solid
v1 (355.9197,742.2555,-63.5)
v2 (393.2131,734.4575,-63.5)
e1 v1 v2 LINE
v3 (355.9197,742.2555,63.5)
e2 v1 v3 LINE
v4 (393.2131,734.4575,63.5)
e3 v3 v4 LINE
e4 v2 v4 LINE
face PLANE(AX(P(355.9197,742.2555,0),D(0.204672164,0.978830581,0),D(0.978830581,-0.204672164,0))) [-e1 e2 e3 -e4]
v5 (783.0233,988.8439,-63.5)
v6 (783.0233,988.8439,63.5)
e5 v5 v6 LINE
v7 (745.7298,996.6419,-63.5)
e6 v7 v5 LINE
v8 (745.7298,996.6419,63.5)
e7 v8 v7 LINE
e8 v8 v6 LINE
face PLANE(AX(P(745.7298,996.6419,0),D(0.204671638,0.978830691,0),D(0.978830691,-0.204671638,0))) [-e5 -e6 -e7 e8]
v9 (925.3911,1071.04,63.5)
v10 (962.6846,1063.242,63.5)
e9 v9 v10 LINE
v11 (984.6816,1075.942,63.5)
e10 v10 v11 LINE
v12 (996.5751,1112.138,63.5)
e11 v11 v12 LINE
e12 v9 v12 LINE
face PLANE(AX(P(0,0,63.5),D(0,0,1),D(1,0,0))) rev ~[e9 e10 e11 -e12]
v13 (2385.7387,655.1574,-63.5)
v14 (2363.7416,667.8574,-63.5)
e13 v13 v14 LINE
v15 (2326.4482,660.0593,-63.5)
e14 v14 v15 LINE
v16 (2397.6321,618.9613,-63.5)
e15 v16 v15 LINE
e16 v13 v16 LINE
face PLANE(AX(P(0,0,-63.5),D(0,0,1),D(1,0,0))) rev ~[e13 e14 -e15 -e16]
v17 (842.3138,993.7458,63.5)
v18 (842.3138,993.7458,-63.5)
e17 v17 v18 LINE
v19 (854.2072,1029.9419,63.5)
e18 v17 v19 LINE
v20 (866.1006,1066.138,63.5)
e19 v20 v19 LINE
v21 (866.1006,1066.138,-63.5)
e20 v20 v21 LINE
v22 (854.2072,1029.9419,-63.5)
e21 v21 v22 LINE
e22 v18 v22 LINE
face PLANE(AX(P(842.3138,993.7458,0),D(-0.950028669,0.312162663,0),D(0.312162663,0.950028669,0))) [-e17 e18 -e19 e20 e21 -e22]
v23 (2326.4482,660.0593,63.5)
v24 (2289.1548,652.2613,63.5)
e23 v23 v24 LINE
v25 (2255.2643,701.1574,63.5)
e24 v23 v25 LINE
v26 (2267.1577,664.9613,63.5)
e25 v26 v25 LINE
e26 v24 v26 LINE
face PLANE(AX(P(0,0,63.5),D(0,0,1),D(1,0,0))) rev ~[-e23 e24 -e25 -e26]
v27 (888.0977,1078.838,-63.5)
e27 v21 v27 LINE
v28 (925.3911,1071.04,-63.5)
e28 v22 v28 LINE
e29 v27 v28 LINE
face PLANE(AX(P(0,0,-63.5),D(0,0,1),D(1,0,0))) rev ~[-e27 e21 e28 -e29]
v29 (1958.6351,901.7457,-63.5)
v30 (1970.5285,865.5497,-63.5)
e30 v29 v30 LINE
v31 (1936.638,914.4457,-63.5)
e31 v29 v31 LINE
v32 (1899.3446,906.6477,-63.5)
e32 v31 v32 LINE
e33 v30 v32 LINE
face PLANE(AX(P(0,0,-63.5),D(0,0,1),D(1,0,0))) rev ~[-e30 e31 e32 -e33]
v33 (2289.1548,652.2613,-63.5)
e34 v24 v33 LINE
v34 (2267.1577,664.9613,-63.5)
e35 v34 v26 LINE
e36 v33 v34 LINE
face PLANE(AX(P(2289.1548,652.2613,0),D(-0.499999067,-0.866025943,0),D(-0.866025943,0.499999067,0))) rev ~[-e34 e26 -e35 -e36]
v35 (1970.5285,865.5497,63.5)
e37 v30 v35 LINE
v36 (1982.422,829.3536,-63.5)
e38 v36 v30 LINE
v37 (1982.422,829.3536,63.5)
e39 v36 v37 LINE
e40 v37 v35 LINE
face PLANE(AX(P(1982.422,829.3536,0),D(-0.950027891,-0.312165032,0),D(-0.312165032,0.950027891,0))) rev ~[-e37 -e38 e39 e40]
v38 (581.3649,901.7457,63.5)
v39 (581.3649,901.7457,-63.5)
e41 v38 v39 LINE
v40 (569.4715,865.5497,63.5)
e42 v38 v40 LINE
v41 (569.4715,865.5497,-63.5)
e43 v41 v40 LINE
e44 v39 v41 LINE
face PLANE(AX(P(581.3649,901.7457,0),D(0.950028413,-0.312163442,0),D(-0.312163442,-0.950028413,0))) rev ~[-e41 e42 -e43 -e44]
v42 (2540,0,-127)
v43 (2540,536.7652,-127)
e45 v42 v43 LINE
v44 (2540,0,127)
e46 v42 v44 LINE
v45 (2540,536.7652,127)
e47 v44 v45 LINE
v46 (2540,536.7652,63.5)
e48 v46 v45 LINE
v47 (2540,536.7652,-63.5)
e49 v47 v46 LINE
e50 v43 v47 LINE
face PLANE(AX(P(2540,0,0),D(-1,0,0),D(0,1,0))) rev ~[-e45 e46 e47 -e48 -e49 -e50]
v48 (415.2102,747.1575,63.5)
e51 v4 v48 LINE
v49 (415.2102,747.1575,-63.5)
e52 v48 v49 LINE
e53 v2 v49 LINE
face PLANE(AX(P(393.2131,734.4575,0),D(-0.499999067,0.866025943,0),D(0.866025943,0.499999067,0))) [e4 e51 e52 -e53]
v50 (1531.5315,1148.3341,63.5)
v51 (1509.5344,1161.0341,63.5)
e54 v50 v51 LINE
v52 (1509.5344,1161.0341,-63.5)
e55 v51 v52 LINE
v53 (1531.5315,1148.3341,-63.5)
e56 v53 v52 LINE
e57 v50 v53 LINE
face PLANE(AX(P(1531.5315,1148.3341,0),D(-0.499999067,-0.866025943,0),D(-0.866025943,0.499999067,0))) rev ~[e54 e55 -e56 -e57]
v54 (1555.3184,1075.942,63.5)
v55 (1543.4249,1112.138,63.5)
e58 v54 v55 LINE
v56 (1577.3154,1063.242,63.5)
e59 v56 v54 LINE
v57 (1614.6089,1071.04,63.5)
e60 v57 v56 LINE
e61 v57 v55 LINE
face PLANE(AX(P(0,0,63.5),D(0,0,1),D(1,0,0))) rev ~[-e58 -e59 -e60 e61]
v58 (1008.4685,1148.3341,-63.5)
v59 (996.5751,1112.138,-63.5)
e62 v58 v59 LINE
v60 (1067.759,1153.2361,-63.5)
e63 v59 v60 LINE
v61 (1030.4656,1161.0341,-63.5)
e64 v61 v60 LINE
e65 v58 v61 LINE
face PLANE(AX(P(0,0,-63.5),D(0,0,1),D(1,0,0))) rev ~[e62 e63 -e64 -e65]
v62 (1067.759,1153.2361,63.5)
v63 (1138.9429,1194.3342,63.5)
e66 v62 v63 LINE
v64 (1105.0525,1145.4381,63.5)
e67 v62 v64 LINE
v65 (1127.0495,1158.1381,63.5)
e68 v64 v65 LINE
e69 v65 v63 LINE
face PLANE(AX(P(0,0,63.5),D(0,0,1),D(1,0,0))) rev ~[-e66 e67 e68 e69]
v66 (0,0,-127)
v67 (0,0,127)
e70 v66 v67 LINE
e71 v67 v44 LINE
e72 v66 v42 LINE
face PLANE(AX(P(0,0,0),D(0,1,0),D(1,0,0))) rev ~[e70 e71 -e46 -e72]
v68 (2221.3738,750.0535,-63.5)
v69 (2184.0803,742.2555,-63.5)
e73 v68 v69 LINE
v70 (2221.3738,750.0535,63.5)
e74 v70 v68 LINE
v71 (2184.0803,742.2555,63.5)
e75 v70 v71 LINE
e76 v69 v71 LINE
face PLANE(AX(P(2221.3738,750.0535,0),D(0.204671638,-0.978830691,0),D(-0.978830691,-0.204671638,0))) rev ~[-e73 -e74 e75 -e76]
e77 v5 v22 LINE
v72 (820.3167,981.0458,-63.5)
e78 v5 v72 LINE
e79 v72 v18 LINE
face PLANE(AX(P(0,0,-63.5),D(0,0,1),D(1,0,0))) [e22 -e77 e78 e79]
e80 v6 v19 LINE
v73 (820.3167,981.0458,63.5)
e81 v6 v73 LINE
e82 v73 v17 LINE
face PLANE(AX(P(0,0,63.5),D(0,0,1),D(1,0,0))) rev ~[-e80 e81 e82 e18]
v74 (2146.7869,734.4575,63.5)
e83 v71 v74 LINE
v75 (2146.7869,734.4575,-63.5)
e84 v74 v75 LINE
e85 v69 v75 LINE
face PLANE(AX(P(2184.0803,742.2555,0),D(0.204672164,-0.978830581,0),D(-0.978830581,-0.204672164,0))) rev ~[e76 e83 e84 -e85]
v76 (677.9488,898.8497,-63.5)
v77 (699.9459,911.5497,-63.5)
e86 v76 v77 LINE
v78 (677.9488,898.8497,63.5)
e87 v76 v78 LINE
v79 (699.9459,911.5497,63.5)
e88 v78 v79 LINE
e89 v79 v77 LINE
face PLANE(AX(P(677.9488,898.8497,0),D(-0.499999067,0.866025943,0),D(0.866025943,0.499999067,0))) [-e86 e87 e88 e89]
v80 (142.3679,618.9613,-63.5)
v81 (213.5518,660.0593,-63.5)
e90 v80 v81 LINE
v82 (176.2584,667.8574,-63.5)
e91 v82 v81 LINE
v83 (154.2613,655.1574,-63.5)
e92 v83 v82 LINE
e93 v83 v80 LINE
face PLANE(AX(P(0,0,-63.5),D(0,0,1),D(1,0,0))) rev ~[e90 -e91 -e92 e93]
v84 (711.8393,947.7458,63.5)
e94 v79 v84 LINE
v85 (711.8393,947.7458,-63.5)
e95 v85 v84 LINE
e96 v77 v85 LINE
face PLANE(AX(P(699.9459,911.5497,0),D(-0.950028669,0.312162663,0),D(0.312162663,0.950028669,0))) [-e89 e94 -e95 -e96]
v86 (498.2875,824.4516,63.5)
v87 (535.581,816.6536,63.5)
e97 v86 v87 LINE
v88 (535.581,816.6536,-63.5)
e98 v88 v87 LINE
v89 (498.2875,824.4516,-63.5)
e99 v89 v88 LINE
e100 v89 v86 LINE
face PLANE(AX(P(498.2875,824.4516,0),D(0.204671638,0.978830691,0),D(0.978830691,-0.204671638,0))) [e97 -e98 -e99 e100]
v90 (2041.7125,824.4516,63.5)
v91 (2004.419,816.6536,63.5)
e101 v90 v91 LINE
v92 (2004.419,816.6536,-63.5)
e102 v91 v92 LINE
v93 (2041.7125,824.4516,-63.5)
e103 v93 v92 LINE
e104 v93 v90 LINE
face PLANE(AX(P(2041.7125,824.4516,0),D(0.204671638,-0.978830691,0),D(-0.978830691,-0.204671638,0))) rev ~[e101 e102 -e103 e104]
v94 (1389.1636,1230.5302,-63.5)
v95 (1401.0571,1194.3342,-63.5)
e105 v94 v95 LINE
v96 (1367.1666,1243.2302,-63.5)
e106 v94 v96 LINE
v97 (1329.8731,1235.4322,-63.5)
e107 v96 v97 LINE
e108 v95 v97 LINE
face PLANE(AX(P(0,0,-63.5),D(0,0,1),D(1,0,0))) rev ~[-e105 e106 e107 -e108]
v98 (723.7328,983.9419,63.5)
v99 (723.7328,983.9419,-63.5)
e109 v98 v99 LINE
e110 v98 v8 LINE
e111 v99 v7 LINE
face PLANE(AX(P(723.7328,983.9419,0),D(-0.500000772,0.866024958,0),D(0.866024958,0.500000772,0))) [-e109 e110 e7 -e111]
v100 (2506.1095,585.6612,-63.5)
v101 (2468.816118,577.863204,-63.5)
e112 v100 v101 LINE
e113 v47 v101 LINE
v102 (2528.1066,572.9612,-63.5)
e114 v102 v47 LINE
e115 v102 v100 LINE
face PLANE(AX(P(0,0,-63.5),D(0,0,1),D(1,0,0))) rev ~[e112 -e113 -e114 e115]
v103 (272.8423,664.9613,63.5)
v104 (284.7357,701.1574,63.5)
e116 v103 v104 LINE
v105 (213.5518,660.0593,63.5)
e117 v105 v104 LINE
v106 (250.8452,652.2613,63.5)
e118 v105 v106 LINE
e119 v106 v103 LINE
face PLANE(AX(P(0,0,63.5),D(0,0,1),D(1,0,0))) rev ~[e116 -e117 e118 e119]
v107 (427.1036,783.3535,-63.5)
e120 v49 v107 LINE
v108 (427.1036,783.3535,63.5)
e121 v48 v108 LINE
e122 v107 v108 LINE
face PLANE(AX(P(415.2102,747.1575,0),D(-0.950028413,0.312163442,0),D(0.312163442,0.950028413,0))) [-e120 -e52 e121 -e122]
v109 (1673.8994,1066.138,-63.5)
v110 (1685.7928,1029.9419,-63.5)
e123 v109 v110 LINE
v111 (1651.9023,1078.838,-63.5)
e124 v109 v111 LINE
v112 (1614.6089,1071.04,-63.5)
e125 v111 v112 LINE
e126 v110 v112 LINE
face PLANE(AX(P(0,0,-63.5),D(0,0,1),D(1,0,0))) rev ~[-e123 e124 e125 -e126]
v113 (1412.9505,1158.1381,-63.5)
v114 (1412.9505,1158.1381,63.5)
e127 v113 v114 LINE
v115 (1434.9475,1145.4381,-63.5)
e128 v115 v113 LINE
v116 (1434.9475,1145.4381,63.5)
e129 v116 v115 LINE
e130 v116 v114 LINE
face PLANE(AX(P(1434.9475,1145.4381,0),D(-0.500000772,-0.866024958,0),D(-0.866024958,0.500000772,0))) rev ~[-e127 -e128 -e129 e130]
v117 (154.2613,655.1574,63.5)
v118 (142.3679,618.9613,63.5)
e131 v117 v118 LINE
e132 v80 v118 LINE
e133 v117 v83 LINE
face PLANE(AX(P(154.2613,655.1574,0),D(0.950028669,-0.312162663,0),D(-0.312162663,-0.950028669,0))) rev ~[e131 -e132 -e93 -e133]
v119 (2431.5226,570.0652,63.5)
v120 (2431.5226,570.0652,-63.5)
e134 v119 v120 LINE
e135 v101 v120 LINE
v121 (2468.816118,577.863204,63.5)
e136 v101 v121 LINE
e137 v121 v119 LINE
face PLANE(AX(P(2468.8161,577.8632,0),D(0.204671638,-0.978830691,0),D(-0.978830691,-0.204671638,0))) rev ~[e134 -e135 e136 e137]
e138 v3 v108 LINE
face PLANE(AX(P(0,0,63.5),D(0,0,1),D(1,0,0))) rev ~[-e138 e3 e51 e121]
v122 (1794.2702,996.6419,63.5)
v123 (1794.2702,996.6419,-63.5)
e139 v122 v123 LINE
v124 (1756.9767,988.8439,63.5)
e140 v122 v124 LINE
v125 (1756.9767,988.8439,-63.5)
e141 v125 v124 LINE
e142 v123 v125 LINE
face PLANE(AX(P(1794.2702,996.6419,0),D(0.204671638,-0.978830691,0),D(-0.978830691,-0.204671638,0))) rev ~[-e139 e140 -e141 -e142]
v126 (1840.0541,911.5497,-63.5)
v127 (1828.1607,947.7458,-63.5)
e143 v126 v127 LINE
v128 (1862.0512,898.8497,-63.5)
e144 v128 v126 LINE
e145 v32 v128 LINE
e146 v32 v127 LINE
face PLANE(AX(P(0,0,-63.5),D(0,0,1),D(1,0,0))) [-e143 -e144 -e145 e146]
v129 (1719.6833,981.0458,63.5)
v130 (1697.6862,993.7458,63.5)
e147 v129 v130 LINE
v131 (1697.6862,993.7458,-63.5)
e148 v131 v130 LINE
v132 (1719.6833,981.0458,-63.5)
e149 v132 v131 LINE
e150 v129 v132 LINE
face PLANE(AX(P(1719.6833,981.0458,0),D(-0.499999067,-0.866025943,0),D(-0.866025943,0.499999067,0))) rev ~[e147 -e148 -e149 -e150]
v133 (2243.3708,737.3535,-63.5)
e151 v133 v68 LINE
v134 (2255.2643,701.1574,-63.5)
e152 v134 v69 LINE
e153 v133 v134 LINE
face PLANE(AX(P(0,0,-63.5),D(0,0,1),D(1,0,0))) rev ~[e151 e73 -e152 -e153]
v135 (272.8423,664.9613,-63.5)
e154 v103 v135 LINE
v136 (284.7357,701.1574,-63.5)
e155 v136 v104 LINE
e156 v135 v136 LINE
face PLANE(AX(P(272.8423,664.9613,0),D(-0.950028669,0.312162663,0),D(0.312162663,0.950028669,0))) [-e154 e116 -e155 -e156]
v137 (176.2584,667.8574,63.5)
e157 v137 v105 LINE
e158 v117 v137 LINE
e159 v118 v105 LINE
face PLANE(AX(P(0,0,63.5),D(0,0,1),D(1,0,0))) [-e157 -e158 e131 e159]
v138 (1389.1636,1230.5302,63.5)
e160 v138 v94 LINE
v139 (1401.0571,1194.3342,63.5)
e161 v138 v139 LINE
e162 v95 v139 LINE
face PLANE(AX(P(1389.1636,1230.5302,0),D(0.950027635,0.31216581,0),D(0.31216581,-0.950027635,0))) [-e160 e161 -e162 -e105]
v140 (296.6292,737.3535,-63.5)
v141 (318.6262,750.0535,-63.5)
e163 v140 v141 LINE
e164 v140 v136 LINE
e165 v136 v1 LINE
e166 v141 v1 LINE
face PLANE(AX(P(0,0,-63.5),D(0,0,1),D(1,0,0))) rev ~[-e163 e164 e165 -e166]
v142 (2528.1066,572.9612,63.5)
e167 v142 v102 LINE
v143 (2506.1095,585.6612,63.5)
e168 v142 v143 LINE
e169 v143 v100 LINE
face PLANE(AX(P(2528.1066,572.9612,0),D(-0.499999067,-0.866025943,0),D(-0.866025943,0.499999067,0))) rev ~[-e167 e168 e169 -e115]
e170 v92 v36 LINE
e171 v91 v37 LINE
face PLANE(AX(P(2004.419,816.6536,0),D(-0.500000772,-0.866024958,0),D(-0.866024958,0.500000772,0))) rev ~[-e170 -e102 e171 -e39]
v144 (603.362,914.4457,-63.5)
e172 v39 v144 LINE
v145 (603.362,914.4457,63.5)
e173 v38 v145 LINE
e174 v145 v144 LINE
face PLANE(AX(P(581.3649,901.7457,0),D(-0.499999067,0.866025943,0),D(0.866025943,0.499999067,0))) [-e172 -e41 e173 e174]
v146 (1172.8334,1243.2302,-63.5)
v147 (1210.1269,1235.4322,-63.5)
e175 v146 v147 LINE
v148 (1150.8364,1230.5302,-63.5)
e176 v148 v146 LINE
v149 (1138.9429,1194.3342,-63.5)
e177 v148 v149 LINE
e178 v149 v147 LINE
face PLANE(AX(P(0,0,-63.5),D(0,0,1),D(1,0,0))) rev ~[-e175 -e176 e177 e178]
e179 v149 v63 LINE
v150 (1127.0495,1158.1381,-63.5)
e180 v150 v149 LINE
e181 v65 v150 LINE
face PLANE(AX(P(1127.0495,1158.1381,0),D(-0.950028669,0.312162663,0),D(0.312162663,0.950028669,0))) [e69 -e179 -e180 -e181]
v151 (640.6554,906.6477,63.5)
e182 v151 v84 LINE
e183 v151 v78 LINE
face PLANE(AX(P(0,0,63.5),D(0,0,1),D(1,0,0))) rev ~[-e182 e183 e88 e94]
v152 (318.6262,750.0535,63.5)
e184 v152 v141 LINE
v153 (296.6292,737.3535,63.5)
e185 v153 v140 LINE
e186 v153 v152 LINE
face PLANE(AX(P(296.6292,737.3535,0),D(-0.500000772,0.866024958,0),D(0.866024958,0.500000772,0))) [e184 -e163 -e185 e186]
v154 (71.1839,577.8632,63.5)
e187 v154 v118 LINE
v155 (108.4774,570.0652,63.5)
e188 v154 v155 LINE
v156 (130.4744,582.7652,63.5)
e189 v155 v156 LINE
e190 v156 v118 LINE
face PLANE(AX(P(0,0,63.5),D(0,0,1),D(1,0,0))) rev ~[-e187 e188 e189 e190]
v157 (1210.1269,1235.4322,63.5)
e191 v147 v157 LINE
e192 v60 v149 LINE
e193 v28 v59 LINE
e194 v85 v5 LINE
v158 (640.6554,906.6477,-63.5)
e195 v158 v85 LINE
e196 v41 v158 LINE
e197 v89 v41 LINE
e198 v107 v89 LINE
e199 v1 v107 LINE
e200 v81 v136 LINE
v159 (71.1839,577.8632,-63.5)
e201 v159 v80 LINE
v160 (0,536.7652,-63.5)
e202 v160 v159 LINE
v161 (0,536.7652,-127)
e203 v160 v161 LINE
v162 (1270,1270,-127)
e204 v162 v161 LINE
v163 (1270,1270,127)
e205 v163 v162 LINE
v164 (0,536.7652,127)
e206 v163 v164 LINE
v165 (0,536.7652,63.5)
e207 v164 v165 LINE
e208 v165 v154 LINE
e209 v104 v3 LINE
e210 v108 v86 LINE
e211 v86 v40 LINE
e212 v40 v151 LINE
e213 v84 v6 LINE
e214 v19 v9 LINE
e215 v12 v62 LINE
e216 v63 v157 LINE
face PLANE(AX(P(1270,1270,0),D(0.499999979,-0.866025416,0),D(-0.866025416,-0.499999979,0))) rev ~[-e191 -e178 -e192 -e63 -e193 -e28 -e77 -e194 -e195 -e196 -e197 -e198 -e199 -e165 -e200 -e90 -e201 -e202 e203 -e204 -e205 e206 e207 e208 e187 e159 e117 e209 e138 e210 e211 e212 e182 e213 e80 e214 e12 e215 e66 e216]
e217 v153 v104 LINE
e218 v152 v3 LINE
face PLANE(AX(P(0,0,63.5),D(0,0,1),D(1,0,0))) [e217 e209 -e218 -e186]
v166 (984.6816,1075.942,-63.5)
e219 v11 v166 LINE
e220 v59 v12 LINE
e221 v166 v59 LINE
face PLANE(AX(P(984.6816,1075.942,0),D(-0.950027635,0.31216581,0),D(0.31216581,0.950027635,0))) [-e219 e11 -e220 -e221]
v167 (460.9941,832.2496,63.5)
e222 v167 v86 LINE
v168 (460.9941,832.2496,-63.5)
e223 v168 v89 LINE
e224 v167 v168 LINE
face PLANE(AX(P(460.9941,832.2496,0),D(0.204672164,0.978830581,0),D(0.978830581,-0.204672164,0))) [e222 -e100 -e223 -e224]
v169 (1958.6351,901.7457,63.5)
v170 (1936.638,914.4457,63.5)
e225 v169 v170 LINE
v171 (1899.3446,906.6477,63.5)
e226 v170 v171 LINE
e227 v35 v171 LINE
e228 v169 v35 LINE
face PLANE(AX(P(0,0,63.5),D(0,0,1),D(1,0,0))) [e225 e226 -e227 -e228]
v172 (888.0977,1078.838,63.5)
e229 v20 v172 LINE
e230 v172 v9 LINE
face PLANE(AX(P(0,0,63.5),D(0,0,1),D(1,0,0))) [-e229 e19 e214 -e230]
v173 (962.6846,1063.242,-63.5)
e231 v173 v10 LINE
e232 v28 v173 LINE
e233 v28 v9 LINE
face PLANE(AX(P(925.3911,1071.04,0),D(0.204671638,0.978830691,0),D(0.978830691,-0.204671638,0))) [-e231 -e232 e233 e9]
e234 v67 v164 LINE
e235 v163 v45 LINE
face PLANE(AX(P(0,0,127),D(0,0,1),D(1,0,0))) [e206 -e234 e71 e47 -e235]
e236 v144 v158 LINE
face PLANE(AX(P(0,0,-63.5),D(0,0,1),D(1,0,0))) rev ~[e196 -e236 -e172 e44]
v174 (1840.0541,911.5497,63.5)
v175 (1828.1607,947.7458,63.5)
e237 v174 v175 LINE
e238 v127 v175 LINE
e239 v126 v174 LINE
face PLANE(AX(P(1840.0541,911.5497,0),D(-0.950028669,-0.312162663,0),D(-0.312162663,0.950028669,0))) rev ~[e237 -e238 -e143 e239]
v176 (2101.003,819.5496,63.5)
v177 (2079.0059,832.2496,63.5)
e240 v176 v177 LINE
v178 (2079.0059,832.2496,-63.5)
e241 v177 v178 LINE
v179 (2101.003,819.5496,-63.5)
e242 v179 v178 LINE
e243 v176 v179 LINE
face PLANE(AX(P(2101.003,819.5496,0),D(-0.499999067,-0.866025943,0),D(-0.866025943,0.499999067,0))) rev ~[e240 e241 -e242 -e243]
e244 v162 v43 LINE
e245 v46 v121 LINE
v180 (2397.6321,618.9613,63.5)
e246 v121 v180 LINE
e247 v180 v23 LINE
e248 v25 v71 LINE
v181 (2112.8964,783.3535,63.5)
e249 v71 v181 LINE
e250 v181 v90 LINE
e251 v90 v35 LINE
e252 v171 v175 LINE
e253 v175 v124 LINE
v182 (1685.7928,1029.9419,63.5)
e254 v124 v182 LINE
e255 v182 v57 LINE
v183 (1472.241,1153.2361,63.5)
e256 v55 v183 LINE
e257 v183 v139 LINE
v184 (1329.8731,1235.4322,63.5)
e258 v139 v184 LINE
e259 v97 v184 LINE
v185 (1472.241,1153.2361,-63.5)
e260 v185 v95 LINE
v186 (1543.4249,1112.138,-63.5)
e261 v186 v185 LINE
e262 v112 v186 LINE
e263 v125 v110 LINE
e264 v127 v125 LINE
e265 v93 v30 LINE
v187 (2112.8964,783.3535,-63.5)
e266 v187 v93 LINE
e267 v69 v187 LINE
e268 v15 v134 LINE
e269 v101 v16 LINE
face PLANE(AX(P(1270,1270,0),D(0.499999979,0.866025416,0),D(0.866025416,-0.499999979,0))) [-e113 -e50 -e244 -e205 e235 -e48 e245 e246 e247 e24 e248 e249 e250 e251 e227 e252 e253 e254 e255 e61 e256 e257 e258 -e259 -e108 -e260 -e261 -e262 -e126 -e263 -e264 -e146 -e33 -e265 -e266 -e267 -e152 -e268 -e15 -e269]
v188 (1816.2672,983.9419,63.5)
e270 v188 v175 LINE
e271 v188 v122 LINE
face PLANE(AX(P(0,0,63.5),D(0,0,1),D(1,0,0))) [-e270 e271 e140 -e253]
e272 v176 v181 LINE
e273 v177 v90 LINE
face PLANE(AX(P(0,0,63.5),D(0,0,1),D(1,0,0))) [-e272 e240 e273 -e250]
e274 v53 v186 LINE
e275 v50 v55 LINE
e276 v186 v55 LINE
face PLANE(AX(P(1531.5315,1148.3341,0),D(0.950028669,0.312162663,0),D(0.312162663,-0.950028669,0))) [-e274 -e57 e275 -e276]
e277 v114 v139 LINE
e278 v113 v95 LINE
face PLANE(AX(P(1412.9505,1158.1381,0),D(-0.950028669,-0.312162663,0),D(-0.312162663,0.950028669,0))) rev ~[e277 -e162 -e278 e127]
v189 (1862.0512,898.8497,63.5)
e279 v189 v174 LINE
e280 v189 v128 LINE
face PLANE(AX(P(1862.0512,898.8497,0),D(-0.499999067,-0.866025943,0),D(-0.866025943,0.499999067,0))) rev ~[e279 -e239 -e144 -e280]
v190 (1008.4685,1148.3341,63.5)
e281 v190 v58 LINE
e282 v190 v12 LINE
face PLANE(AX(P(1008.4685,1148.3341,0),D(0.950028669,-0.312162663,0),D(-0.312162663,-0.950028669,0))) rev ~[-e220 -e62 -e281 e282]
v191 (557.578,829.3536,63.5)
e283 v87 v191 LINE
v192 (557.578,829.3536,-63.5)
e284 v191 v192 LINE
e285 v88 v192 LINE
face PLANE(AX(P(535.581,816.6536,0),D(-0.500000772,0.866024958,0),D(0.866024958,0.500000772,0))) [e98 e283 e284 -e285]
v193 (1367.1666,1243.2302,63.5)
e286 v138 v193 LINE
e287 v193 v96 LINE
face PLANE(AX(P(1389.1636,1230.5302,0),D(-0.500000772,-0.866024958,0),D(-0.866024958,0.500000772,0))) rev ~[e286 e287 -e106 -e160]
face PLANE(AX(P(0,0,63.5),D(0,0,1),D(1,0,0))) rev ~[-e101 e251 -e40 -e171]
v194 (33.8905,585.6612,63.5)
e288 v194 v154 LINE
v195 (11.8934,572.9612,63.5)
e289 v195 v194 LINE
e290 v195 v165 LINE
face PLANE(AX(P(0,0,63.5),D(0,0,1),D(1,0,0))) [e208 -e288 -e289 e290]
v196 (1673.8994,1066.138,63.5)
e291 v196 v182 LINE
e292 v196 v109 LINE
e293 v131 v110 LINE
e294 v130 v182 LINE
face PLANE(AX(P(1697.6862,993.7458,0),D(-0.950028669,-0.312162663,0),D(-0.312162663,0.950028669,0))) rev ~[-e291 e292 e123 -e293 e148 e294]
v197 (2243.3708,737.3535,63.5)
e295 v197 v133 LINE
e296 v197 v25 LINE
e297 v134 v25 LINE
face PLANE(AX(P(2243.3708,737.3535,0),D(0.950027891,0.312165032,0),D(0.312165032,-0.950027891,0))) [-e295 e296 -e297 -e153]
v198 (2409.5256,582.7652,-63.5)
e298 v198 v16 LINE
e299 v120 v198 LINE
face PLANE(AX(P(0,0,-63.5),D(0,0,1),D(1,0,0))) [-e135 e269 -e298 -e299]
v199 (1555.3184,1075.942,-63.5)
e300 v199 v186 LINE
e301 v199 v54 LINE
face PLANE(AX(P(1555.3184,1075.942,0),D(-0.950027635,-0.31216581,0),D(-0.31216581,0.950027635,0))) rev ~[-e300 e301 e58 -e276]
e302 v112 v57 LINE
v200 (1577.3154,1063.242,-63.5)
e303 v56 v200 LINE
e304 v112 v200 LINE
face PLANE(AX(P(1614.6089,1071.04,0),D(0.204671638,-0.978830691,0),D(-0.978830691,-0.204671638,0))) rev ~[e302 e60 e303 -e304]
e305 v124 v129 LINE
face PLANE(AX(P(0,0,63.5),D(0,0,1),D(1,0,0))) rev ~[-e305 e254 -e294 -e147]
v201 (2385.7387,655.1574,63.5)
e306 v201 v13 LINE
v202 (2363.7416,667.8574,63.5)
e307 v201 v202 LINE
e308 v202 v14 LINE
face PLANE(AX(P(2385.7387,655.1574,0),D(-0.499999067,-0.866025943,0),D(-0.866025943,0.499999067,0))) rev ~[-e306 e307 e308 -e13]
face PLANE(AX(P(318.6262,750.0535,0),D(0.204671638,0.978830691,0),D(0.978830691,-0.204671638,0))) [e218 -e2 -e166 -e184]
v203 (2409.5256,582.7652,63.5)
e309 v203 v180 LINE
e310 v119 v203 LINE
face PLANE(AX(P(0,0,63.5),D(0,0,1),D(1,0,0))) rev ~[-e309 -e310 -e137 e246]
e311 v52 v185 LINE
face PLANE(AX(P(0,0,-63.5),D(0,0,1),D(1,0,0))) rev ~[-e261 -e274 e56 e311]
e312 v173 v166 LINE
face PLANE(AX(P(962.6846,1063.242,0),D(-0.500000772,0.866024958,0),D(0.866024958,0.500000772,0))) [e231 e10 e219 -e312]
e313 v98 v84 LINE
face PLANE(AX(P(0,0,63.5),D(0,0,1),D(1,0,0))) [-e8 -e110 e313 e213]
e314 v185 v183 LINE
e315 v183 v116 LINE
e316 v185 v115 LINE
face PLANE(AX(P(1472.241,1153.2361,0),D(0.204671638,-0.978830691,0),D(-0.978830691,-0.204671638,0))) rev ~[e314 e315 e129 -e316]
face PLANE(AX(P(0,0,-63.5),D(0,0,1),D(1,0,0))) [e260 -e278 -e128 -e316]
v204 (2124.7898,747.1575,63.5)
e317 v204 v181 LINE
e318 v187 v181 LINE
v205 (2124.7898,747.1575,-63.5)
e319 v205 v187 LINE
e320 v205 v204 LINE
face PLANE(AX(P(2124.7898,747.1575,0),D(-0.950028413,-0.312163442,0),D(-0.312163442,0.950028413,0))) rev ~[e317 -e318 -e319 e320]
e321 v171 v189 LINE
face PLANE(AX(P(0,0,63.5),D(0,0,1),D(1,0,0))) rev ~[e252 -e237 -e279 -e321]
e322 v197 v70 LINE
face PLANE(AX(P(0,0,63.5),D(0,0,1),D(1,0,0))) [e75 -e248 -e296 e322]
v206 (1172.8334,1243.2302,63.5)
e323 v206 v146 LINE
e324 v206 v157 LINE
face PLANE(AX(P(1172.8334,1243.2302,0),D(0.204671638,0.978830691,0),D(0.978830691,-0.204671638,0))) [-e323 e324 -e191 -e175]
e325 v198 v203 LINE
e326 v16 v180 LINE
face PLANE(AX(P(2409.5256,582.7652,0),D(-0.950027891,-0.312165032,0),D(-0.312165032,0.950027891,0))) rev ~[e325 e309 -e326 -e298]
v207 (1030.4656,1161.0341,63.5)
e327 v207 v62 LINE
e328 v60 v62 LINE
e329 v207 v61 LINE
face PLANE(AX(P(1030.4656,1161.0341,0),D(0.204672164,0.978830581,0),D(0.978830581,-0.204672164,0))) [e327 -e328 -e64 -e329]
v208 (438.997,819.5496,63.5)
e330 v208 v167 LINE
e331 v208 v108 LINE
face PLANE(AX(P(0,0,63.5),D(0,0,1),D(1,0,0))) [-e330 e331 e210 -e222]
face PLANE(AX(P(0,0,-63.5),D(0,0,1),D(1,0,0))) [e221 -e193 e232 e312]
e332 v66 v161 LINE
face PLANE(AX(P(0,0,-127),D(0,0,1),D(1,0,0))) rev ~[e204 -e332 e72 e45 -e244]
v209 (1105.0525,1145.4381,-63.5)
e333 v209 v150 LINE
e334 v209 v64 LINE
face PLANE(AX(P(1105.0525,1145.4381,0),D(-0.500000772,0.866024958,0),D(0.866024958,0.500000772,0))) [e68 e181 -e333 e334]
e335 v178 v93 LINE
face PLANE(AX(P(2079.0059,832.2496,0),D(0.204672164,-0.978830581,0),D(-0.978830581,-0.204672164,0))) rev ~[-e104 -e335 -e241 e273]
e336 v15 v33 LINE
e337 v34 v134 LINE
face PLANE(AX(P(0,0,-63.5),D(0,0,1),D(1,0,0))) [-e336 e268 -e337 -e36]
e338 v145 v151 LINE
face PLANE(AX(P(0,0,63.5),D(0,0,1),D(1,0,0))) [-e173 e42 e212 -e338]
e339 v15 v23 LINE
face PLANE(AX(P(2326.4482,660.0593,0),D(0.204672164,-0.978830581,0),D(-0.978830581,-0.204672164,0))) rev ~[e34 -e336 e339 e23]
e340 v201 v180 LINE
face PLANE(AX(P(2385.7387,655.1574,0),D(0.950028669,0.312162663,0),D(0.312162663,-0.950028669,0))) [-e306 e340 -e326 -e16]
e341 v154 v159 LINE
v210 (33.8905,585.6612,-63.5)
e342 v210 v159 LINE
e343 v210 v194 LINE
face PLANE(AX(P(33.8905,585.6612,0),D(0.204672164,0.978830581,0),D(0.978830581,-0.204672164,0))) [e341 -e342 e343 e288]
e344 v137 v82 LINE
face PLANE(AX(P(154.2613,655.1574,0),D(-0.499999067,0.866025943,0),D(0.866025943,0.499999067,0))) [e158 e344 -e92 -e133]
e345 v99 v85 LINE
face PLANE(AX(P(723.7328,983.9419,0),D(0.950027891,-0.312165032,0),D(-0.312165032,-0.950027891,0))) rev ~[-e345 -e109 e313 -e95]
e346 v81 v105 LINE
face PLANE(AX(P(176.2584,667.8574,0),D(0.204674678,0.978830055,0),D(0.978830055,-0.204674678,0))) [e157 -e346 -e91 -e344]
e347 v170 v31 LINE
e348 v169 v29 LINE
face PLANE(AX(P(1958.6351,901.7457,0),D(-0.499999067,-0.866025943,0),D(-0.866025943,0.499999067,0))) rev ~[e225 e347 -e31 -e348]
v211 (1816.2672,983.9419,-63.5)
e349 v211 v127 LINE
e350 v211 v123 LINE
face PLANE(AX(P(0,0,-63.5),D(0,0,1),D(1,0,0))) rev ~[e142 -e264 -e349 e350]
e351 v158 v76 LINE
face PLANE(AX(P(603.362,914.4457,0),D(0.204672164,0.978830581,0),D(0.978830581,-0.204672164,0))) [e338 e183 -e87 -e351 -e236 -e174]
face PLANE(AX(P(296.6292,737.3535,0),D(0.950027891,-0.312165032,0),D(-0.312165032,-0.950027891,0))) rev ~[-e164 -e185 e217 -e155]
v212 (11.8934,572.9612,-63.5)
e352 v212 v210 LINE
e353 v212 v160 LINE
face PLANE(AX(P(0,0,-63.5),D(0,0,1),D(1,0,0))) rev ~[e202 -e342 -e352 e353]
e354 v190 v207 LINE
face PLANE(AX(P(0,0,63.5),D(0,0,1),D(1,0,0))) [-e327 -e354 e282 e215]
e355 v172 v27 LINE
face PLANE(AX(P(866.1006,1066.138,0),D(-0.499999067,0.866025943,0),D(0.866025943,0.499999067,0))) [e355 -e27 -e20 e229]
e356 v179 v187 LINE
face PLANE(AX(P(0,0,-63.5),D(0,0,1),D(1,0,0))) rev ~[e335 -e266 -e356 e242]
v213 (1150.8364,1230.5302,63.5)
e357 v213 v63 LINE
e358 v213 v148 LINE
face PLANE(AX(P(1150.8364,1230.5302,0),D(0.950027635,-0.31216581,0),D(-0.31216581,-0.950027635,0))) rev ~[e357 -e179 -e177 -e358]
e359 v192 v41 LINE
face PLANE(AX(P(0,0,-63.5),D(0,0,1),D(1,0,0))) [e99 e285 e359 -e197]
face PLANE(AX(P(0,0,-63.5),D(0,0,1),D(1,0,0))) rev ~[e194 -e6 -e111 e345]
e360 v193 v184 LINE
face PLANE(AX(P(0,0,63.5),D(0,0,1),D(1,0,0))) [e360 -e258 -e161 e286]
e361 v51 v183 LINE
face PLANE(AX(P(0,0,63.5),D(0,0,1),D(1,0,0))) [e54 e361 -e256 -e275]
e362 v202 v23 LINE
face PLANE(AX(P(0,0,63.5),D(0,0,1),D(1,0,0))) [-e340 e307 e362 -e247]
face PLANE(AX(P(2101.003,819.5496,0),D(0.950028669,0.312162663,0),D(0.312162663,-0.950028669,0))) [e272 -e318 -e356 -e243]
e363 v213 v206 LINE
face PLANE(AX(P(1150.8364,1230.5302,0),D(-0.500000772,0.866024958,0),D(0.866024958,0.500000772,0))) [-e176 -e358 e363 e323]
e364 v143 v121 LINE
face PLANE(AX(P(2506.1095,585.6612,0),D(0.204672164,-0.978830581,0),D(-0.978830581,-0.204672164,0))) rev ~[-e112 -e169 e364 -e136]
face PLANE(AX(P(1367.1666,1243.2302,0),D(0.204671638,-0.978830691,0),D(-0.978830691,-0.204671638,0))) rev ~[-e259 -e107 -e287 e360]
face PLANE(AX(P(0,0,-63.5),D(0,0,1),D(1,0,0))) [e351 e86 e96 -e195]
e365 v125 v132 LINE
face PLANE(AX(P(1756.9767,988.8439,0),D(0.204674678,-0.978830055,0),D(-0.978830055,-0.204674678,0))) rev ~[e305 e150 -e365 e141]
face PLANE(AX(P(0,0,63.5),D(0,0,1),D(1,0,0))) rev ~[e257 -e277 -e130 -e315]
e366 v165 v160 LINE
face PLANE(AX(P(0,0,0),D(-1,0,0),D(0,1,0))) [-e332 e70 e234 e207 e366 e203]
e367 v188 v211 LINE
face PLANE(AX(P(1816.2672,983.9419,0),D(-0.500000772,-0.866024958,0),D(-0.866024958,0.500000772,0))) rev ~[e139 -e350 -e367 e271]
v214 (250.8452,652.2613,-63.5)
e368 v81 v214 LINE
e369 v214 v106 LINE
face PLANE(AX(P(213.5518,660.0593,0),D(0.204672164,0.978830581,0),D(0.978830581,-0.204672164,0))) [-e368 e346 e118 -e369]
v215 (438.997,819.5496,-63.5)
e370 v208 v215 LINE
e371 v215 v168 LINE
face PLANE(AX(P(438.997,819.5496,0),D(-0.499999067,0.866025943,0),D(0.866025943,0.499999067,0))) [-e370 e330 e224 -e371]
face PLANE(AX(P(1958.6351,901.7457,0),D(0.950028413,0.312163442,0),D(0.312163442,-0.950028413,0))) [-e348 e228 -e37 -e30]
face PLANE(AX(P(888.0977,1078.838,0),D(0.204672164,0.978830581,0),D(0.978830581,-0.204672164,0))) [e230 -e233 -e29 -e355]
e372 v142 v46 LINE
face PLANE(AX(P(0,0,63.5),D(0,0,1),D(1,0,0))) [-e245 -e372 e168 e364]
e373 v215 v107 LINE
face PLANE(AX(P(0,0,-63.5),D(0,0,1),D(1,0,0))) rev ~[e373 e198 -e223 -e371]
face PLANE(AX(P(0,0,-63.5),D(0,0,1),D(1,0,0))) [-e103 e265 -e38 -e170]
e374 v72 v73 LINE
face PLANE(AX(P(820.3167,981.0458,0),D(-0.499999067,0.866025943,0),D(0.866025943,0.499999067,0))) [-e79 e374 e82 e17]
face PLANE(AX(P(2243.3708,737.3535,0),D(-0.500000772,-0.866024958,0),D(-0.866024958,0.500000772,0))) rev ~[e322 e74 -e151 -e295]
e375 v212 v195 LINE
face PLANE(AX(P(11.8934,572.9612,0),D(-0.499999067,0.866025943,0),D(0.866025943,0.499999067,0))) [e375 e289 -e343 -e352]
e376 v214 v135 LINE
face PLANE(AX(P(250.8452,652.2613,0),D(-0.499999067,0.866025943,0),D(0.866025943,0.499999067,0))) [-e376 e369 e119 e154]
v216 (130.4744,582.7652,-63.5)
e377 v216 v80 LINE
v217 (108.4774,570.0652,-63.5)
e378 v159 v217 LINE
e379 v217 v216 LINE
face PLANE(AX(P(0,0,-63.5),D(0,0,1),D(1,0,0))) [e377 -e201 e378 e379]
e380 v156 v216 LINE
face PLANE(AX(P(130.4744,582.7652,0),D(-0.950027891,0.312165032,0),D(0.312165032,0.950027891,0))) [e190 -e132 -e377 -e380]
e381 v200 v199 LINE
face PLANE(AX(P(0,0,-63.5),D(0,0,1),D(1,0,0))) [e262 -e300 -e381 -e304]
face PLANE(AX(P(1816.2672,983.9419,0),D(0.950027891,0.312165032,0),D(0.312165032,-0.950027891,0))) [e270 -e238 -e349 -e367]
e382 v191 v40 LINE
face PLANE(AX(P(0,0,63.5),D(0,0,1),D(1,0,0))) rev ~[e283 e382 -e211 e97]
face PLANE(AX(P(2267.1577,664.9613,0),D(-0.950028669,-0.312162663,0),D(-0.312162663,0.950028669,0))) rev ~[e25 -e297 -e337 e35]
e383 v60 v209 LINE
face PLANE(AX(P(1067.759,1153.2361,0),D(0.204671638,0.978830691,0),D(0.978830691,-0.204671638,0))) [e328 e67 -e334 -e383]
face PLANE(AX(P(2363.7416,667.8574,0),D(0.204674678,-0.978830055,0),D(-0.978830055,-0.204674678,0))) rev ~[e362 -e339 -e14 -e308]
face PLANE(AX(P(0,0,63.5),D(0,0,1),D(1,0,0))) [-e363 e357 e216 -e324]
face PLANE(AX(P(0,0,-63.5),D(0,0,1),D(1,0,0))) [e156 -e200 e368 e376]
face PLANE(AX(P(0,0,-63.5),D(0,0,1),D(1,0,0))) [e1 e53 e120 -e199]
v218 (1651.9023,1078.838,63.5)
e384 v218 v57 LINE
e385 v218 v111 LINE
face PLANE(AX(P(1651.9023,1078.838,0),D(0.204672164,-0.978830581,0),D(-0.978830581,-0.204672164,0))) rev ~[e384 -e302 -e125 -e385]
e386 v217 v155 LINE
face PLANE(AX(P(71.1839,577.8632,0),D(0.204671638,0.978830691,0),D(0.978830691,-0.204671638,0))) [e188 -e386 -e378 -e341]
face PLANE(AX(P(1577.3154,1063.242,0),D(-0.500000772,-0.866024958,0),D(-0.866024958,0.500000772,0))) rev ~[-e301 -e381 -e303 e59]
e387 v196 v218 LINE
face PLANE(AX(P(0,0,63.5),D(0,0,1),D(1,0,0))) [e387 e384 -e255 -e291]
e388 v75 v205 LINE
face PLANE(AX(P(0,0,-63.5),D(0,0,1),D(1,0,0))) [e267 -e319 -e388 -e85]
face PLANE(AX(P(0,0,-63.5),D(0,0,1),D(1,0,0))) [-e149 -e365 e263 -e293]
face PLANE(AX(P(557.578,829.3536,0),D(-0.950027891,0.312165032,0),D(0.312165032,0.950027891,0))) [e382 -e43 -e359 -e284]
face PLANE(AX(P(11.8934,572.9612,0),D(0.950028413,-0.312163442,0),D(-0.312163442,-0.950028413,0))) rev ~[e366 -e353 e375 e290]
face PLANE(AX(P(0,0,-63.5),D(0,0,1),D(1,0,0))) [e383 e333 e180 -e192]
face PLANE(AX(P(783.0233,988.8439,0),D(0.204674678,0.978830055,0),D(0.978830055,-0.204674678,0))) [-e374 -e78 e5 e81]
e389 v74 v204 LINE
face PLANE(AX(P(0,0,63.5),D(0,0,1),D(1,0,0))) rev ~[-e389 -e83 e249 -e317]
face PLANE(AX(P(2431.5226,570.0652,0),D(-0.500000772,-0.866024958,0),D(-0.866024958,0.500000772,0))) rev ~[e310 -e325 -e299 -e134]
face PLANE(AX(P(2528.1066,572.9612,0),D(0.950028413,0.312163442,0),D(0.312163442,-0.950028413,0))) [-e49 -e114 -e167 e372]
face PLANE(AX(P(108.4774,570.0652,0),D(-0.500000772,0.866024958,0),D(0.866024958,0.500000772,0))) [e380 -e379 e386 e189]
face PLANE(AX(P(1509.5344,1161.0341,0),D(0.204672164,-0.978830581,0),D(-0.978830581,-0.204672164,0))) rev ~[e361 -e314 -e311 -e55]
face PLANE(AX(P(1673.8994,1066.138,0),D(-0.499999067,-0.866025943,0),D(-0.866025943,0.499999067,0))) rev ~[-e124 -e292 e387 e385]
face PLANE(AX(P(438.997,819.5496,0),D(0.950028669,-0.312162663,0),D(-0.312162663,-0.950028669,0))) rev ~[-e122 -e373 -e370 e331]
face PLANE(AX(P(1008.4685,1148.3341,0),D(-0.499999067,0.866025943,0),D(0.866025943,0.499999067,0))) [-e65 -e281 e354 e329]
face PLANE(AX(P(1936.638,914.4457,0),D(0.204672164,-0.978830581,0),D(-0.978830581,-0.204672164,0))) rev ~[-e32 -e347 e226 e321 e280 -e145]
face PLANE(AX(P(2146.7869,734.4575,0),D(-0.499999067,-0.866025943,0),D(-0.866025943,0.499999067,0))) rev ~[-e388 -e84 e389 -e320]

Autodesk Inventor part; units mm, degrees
ref_plane "YZ Plane" through (0, 0, 0) normal (1, 0, 0) x (0, 1, 0)
ref_plane "XZ Plane" through (0, 0, 0) normal (0, 1, 0) x (-1, 0, 0)
ref_plane "XY Plane" through (0, 0, 0) normal (0, 0, 1) x (1, 0, 0)
sketch "Sketch1" plane through (0, 0, 0) normal (0, 0, 1) x (1, 0, 0)
  line L0 (0, 0) -> (0, 536.7652)
  line L1 (0, 0) -> (2540, 0)
  line L2 (2540, 0) -> (2540, 536.7652)
  line L3 (1270, 0) -> (1270, 1270) construction
  line L4 (1270, 1270) -> (2540, 536.7652)
  line L5 (1270, 1270) -> (0, 536.7652)
  dimension "d70" = 536.7652
  dimension "d71" = 2540
  dimension "d72" = 536.7652
  dimension "d73" = 1270
extrude "door" add sketch "Sketch1" along normal mid plane 254
sketch "Sketch3" plane through (0, 0, 0) normal (0, 0, 1) x (1, 0, 0)
  line L0 (0, 0) -> (0, 536.7652) projected
  line L1 (33.8905, 585.6612) -> (71.1839, 577.8632)
  line L2 (35.592, 557.3142) -> (22.892, 579.3112) construction
  line L3 (11.8934, 572.9612) -> (33.8905, 585.6612)
  line L4 (11.8934, 572.9612) -> (0, 536.7652)
  line L5 (1270, 1270) -> (1270, 0) construction
  line L6 (0, 536.7652) -> (71.1839, 577.8632)
  line L7 (71.1839, 577.8632) -> (108.4774, 570.0652)
  line L8 (108.4774, 570.0652) -> (130.4744, 582.7652)
  line L9 (130.4744, 582.7652) -> (142.3679, 618.9613)
  line L10 (0, 536.7652) -> (1270, 1270) projected
  line L11 (71.1839, 577.8632) -> (142.3679, 618.9613)
  line L12 (106.7759, 598.4123) -> (119.4759, 576.4152) construction
  line L13 (154.2613, 655.1574) -> (142.3679, 618.9613)
  line L14 (154.2613, 655.1574) -> (176.2584, 667.8574)
  line L15 (177.9598, 639.5103) -> (165.2598, 661.5074) construction
  line L16 (176.2584, 667.8574) -> (213.5518, 660.0593)
  line L17 (142.3679, 618.9613) -> (213.5518, 660.0593)
  line L18 (213.5518, 660.0593) -> (250.8452, 652.2613)
  line L19 (250.8452, 652.2613) -> (272.8423, 664.9613)
  line L20 (272.8423, 664.9613) -> (284.7357, 701.1574)
  line L21 (213.5518, 660.0593) -> (284.7357, 701.1574)
  line L22 (249.1438, 680.6084) -> (261.8438, 658.6113) construction
  line L23 (296.6292, 737.3535) -> (284.7357, 701.1574)
  line L24 (296.6292, 737.3535) -> (318.6262, 750.0535)
  line L25 (320.3277, 721.7064) -> (307.6277, 743.7035) construction
  line L26 (318.6262, 750.0535) -> (355.9197, 742.2555)
  line L27 (284.7357, 701.1574) -> (355.9197, 742.2555)
  line L28 (355.9197, 742.2555) -> (393.2131, 734.4575)
  line L29 (393.2131, 734.4575) -> (415.2102, 747.1575)
  line L30 (415.2102, 747.1575) -> (427.1036, 783.3535)
  line L31 (355.9197, 742.2555) -> (427.1036, 783.3535)
  line L32 (391.5116, 762.8045) -> (404.2116, 740.8075) construction
  line L33 (438.997, 819.5496) -> (427.1036, 783.3535)
  line L34 (438.997, 819.5496) -> (460.9941, 832.2496)
  line L35 (462.6956, 803.9026) -> (449.9956, 825.8996) construction
  line L36 (460.9941, 832.2496) -> (498.2875, 824.4516)
  line L37 (427.1036, 783.3535) -> (498.2875, 824.4516)
  line L38 (498.2875, 824.4516) -> (535.581, 816.6536)
  line L39 (535.581, 816.6536) -> (557.578, 829.3536)
  line L40 (557.578, 829.3536) -> (569.4715, 865.5497)
  line L41 (498.2875, 824.4516) -> (569.4715, 865.5497)
  line L42 (533.8795, 845.0006) -> (546.5795, 823.0036) construction
  line L43 (581.3649, 901.7457) -> (569.4715, 865.5497)
  line L44 (581.3649, 901.7457) -> (603.362, 914.4457)
  line L45 (605.0634, 886.0987) -> (592.3634, 908.0957) construction
  line L46 (603.362, 914.4457) -> (640.6554, 906.6477)
  line L47 (569.4715, 865.5497) -> (640.6554, 906.6477)
  line L48 (640.6554, 906.6477) -> (677.9488, 898.8497)
  line L49 (677.9488, 898.8497) -> (699.9459, 911.5497)
  line L50 (699.9459, 911.5497) -> (711.8393, 947.7458)
  line L51 (640.6554, 906.6477) -> (711.8393, 947.7458)
  line L52 (676.2474, 927.1968) -> (688.9474, 905.1997) construction
  line L53 (723.7328, 983.9419) -> (711.8393, 947.7458)
  line L54 (723.7328, 983.9419) -> (745.7298, 996.6419)
  line L55 (747.4313, 968.2948) -> (734.7313, 990.2919) construction
  line L56 (745.7298, 996.6419) -> (783.0233, 988.8439)
  line L57 (711.8393, 947.7458) -> (783.0233, 988.8439)
  line L58 (783.0233, 988.8439) -> (820.3167, 981.0458)
  line L59 (820.3167, 981.0458) -> (842.3138, 993.7458)
  line L60 (842.3138, 993.7458) -> (854.2072, 1029.9419)
  line L61 (783.0233, 988.8439) -> (854.2072, 1029.9419)
  line L62 (818.6152, 1009.3929) -> (831.3152, 987.3958) construction
  line L63 (866.1006, 1066.138) -> (854.2072, 1029.9419)
  line L64 (866.1006, 1066.138) -> (888.0977, 1078.838)
  line L65 (889.7992, 1050.4909) -> (877.0992, 1072.488) construction
  line L66 (888.0977, 1078.838) -> (925.3911, 1071.04)
  line L67 (854.2072, 1029.9419) -> (925.3911, 1071.04)
  line L68 (925.3911, 1071.04) -> (962.6846, 1063.242)
  line L69 (962.6846, 1063.242) -> (984.6816, 1075.942)
  line L70 (984.6816, 1075.942) -> (996.5751, 1112.138)
  line L71 (925.3911, 1071.04) -> (996.5751, 1112.138)
  line L72 (960.9831, 1091.589) -> (973.6831, 1069.592) construction
  line L73 (1008.4685, 1148.3341) -> (996.5751, 1112.138)
  line L74 (1008.4685, 1148.3341) -> (1030.4656, 1161.0341)
  line L75 (1032.167, 1132.6871) -> (1019.467, 1154.6841) construction
  line L76 (1030.4656, 1161.0341) -> (1067.759, 1153.2361)
  line L77 (996.5751, 1112.138) -> (1067.759, 1153.2361)
  line L78 (1067.759, 1153.2361) -> (1105.0525, 1145.4381)
  line L79 (1105.0525, 1145.4381) -> (1127.0495, 1158.1381)
  line L80 (1127.0495, 1158.1381) -> (1138.9429, 1194.3342)
  line L81 (1067.759, 1153.2361) -> (1138.9429, 1194.3342)
  line L82 (1103.351, 1173.7851) -> (1116.051, 1151.7881) construction
  line L83 (1172.8334, 1243.2302) -> (1210.1269, 1235.4322)
  line L84 (1174.5349, 1214.8832) -> (1161.8349, 1236.8802) construction
  line L85 (1150.8364, 1230.5302) -> (1172.8334, 1243.2302)
  line L86 (1150.8364, 1230.5302) -> (1138.9429, 1194.3342)
  line L87 (1138.9429, 1194.3342) -> (1210.1269, 1235.4322)
  line L88 (2528.1066, 572.9612) -> (2506.1095, 585.6612)
  line L89 (2504.408, 557.3142) -> (2517.108, 579.3112) construction
  line L90 (2506.1095, 585.6612) -> (2468.8161, 577.8632)
  line L91 (2540, 536.7652) -> (2468.8161, 577.8632)
  line L92 (2468.8161, 577.8632) -> (2431.5226, 570.0652)
  line L93 (2431.5226, 570.0652) -> (2409.5256, 582.7652)
  line L94 (2409.5256, 582.7652) -> (2397.6321, 618.9613)
  line L95 (2540, 536.7652) -> (1270, 1270)
  line L96 (2468.8161, 577.8632) -> (2397.6321, 618.9613)
  line L97 (2433.2241, 598.4123) -> (2420.5241, 576.4152) construction
  line L98 (2267.1577, 664.9613) -> (2255.2643, 701.1574)
  line L99 (2289.1548, 652.2613) -> (2267.1577, 664.9613)
  line L100 (2290.8562, 680.6084) -> (2278.1562, 658.6113) construction
  line L101 (2326.4482, 660.0593) -> (2255.2643, 701.1574)
  line L102 (2326.4482, 660.0593) -> (2289.1548, 652.2613)
  line L103 (2363.7416, 667.8574) -> (2326.4482, 660.0593)
  line L104 (2362.0402, 639.5103) -> (2374.7402, 661.5074) construction
  line L105 (2385.7387, 655.1574) -> (2363.7416, 667.8574)
  line L106 (2385.7387, 655.1574) -> (2397.6321, 618.9613)
  line L107 (2397.6321, 618.9613) -> (2326.4482, 660.0593)
  line L108 (2124.7898, 747.1575) -> (2112.8964, 783.3535)
  line L109 (2146.7869, 734.4575) -> (2124.7898, 747.1575)
  line L110 (2148.4884, 762.8045) -> (2135.7884, 740.8075) construction
  line L111 (2184.0803, 742.2555) -> (2112.8964, 783.3535)
  line L112 (2184.0803, 742.2555) -> (2146.7869, 734.4575)
  line L113 (2221.3738, 750.0535) -> (2184.0803, 742.2555)
  line L114 (2219.6723, 721.7064) -> (2232.3723, 743.7035) construction
  line L115 (2243.3708, 737.3535) -> (2221.3738, 750.0535)
  line L116 (2243.3708, 737.3535) -> (2255.2643, 701.1574)
  line L117 (2255.2643, 701.1574) -> (2184.0803, 742.2555)
  line L118 (1982.422, 829.3536) -> (1970.5285, 865.5497)
  line L119 (2004.419, 816.6536) -> (1982.422, 829.3536)
  line L120 (2006.1205, 845.0006) -> (1993.4205, 823.0036) construction
  line L121 (2041.7125, 824.4516) -> (1970.5285, 865.5497)
  line L122 (2041.7125, 824.4516) -> (2004.419, 816.6536)
  line L123 (2079.0059, 832.2496) -> (2041.7125, 824.4516)
  line L124 (2077.3044, 803.9026) -> (2090.0044, 825.8996) construction
  line L125 (2101.003, 819.5496) -> (2079.0059, 832.2496)
  line L126 (2101.003, 819.5496) -> (2112.8964, 783.3535)
  line L127 (2112.8964, 783.3535) -> (2041.7125, 824.4516)
  line L128 (1840.0541, 911.5497) -> (1828.1607, 947.7458)
  line L129 (1862.0512, 898.8497) -> (1840.0541, 911.5497)
  line L130 (1863.7526, 927.1968) -> (1851.0526, 905.1997) construction
  line L131 (1899.3446, 906.6477) -> (1828.1607, 947.7458)
  line L132 (1899.3446, 906.6477) -> (1862.0512, 898.8497)
  line L133 (1936.638, 914.4457) -> (1899.3446, 906.6477)
  line L134 (1934.9366, 886.0987) -> (1947.6366, 908.0957) construction
  line L135 (1958.6351, 901.7457) -> (1936.638, 914.4457)
  line L136 (1958.6351, 901.7457) -> (1970.5285, 865.5497)
  line L137 (1970.5285, 865.5497) -> (1899.3446, 906.6477)
  line L138 (1697.6862, 993.7458) -> (1685.7928, 1029.9419)
  line L139 (1719.6833, 981.0458) -> (1697.6862, 993.7458)
  line L140 (1721.3848, 1009.3929) -> (1708.6848, 987.3958) construction
  line L141 (1756.9767, 988.8439) -> (1685.7928, 1029.9419)
  line L142 (1756.9767, 988.8439) -> (1719.6833, 981.0458)
  line L143 (1794.2702, 996.6419) -> (1756.9767, 988.8439)
  line L144 (1792.5687, 968.2948) -> (1805.2687, 990.2919) construction
  line L145 (1816.2672, 983.9419) -> (1794.2702, 996.6419)
  line L146 (1816.2672, 983.9419) -> (1828.1607, 947.7458)
  line L147 (1828.1607, 947.7458) -> (1756.9767, 988.8439)
  line L148 (1555.3184, 1075.942) -> (1543.4249, 1112.138)
  line L149 (1577.3154, 1063.242) -> (1555.3184, 1075.942)
  line L150 (1579.0169, 1091.589) -> (1566.3169, 1069.592) construction
  line L151 (1614.6089, 1071.04) -> (1543.4249, 1112.138)
  line L152 (1614.6089, 1071.04) -> (1577.3154, 1063.242)
  line L153 (1651.9023, 1078.838) -> (1614.6089, 1071.04)
  line L154 (1650.2008, 1050.4909) -> (1662.9008, 1072.488) construction
  line L155 (1673.8994, 1066.138) -> (1651.9023, 1078.838)
  line L156 (1673.8994, 1066.138) -> (1685.7928, 1029.9419)
  line L157 (1685.7928, 1029.9419) -> (1614.6089, 1071.04)
  line L158 (1412.9505, 1158.1381) -> (1401.0571, 1194.3342)
  line L159 (1434.9475, 1145.4381) -> (1412.9505, 1158.1381)
  line L160 (1436.649, 1173.7851) -> (1423.949, 1151.7881) construction
  line L161 (1472.241, 1153.2361) -> (1401.0571, 1194.3342)
  line L162 (1472.241, 1153.2361) -> (1434.9475, 1145.4381)
  line L163 (1509.5344, 1161.0341) -> (1472.241, 1153.2361)
  line L164 (1507.833, 1132.6871) -> (1520.533, 1154.6841) construction
  line L165 (1531.5315, 1148.3341) -> (1509.5344, 1161.0341)
  line L166 (1531.5315, 1148.3341) -> (1543.4249, 1112.138)
  line L167 (1543.4249, 1112.138) -> (1472.241, 1153.2361)
  line L168 (1389.1636, 1230.5302) -> (1401.0571, 1194.3342)
  line L169 (1365.4651, 1214.8832) -> (1378.1651, 1236.8802) construction
  line L170 (1389.1636, 1230.5302) -> (1367.1666, 1243.2302)
  line L171 (1401.0571, 1194.3342) -> (1329.8731, 1235.4322)
  line L172 (1367.1666, 1243.2302) -> (1329.8731, 1235.4322)
  line L173 (2540, 0) -> (2540, 536.7652) projected
  line L174 (2528.1066, 572.9612) -> (2540, 536.7652)
  dimension "d282" = 25.4
  dimension "d283" = 25.4
  dimension "d284" = 38.1
  dimension "d285" = 38.1
  dimension "d350" = 38.1
  dimension "d351" = 25.4
  dimension "d352" = 38.1
  dimension "d353" = 138.19
  dimension "d356" = 138.19
  dimension "d358" = 25.4
  dimension "d359" = 25.4
  dimension "d360" = 25.4
  dimension "d361" = 38.1
  dimension "d362" = 38.1
  dimension "d363" = 38.1
  dimension "d364" = 25.4
  dimension "d365" = 38.1
  dimension "d366" = 138.19
  dimension "d367" = 138.19
  dimension "d368" = 25.4
  dimension "d369" = 25.4
  dimension "d370" = 25.4
  dimension "d371" = 38.1
  dimension "d372" = 38.1
  dimension "d373" = 38.1
  dimension "d374" = 25.4
  dimension "d375" = 38.1
  dimension "d376" = 138.19
  dimension "d377" = 138.19
  dimension "d378" = 25.4
  dimension "d379" = 25.4
  dimension "d380" = 25.4
  dimension "d381" = 38.1
  dimension "d382" = 38.1
  dimension "d383" = 38.1
  dimension "d384" = 25.4
  dimension "d385" = 38.1
  dimension "d386" = 138.19
  dimension "d387" = 138.19
  dimension "d388" = 25.4
  dimension "d389" = 25.4
  dimension "d390" = 25.4
  dimension "d391" = 38.1
  dimension "d392" = 38.1
  dimension "d393" = 38.1
  dimension "d394" = 25.4
  dimension "d395" = 38.1
  dimension "d396" = 138.19
  dimension "d397" = 138.19
  dimension "d398" = 25.4
  dimension "d399" = 25.4
  dimension "d400" = 25.4
  dimension "d401" = 38.1
  dimension "d402" = 38.1
  dimension "d403" = 38.1
  dimension "d404" = 25.4
  dimension "d405" = 38.1
  dimension "d406" = 138.19
  dimension "d407" = 138.19
  dimension "d408" = 25.4
  dimension "d409" = 25.4
  dimension "d410" = 25.4
  dimension "d411" = 38.1
  dimension "d412" = 38.1
extrude "connection give" add sketch "Sketch3" along normal mid plane 127 contours L90 L88 L174 L91 | L103 L105 L106 L95 | L113 L115 L116 L95 | L123 L125 L126 L95 | L133 L135 L136 L95 | L143 L145 L146 L95 | L153 L155 L156 L95 | L163 L165 L166 L95 | L172 L170 L168 L95 | L86 L85 L83 L10 | L73 L74 L76 L10 | L63 L64 L66 L10 | L53 L54 L56 L10 | L43 L44 L46 L10 | L33 L34 L36 L10 | L23 L24 L26 L10 | L13 L14 L16 L10 | L1 L6 L4 L3
extrude "connection receive" cut sketch "Sketch3" along normal mid plane 127 contours L95 L92 L93 L94 | L95 L102 L99 L98 | L95 L112 L109 L108 | L95 L122 L119 L118 | L95 L132 L129 L128 | L95 L142 L139 L138 | L95 L152 L149 L148 | L95 L162 L159 L158 | L10 L80 L79 L78 | L10 L70 L69 L68 | L10 L60 L59 L58 | L10 L50 L49 L48 | L10 L40 L39 L38 | L10 L30 L29 L28 | L10 L20 L19 L18 | L10 L9 L8 L7
properties part number "bottom door"
